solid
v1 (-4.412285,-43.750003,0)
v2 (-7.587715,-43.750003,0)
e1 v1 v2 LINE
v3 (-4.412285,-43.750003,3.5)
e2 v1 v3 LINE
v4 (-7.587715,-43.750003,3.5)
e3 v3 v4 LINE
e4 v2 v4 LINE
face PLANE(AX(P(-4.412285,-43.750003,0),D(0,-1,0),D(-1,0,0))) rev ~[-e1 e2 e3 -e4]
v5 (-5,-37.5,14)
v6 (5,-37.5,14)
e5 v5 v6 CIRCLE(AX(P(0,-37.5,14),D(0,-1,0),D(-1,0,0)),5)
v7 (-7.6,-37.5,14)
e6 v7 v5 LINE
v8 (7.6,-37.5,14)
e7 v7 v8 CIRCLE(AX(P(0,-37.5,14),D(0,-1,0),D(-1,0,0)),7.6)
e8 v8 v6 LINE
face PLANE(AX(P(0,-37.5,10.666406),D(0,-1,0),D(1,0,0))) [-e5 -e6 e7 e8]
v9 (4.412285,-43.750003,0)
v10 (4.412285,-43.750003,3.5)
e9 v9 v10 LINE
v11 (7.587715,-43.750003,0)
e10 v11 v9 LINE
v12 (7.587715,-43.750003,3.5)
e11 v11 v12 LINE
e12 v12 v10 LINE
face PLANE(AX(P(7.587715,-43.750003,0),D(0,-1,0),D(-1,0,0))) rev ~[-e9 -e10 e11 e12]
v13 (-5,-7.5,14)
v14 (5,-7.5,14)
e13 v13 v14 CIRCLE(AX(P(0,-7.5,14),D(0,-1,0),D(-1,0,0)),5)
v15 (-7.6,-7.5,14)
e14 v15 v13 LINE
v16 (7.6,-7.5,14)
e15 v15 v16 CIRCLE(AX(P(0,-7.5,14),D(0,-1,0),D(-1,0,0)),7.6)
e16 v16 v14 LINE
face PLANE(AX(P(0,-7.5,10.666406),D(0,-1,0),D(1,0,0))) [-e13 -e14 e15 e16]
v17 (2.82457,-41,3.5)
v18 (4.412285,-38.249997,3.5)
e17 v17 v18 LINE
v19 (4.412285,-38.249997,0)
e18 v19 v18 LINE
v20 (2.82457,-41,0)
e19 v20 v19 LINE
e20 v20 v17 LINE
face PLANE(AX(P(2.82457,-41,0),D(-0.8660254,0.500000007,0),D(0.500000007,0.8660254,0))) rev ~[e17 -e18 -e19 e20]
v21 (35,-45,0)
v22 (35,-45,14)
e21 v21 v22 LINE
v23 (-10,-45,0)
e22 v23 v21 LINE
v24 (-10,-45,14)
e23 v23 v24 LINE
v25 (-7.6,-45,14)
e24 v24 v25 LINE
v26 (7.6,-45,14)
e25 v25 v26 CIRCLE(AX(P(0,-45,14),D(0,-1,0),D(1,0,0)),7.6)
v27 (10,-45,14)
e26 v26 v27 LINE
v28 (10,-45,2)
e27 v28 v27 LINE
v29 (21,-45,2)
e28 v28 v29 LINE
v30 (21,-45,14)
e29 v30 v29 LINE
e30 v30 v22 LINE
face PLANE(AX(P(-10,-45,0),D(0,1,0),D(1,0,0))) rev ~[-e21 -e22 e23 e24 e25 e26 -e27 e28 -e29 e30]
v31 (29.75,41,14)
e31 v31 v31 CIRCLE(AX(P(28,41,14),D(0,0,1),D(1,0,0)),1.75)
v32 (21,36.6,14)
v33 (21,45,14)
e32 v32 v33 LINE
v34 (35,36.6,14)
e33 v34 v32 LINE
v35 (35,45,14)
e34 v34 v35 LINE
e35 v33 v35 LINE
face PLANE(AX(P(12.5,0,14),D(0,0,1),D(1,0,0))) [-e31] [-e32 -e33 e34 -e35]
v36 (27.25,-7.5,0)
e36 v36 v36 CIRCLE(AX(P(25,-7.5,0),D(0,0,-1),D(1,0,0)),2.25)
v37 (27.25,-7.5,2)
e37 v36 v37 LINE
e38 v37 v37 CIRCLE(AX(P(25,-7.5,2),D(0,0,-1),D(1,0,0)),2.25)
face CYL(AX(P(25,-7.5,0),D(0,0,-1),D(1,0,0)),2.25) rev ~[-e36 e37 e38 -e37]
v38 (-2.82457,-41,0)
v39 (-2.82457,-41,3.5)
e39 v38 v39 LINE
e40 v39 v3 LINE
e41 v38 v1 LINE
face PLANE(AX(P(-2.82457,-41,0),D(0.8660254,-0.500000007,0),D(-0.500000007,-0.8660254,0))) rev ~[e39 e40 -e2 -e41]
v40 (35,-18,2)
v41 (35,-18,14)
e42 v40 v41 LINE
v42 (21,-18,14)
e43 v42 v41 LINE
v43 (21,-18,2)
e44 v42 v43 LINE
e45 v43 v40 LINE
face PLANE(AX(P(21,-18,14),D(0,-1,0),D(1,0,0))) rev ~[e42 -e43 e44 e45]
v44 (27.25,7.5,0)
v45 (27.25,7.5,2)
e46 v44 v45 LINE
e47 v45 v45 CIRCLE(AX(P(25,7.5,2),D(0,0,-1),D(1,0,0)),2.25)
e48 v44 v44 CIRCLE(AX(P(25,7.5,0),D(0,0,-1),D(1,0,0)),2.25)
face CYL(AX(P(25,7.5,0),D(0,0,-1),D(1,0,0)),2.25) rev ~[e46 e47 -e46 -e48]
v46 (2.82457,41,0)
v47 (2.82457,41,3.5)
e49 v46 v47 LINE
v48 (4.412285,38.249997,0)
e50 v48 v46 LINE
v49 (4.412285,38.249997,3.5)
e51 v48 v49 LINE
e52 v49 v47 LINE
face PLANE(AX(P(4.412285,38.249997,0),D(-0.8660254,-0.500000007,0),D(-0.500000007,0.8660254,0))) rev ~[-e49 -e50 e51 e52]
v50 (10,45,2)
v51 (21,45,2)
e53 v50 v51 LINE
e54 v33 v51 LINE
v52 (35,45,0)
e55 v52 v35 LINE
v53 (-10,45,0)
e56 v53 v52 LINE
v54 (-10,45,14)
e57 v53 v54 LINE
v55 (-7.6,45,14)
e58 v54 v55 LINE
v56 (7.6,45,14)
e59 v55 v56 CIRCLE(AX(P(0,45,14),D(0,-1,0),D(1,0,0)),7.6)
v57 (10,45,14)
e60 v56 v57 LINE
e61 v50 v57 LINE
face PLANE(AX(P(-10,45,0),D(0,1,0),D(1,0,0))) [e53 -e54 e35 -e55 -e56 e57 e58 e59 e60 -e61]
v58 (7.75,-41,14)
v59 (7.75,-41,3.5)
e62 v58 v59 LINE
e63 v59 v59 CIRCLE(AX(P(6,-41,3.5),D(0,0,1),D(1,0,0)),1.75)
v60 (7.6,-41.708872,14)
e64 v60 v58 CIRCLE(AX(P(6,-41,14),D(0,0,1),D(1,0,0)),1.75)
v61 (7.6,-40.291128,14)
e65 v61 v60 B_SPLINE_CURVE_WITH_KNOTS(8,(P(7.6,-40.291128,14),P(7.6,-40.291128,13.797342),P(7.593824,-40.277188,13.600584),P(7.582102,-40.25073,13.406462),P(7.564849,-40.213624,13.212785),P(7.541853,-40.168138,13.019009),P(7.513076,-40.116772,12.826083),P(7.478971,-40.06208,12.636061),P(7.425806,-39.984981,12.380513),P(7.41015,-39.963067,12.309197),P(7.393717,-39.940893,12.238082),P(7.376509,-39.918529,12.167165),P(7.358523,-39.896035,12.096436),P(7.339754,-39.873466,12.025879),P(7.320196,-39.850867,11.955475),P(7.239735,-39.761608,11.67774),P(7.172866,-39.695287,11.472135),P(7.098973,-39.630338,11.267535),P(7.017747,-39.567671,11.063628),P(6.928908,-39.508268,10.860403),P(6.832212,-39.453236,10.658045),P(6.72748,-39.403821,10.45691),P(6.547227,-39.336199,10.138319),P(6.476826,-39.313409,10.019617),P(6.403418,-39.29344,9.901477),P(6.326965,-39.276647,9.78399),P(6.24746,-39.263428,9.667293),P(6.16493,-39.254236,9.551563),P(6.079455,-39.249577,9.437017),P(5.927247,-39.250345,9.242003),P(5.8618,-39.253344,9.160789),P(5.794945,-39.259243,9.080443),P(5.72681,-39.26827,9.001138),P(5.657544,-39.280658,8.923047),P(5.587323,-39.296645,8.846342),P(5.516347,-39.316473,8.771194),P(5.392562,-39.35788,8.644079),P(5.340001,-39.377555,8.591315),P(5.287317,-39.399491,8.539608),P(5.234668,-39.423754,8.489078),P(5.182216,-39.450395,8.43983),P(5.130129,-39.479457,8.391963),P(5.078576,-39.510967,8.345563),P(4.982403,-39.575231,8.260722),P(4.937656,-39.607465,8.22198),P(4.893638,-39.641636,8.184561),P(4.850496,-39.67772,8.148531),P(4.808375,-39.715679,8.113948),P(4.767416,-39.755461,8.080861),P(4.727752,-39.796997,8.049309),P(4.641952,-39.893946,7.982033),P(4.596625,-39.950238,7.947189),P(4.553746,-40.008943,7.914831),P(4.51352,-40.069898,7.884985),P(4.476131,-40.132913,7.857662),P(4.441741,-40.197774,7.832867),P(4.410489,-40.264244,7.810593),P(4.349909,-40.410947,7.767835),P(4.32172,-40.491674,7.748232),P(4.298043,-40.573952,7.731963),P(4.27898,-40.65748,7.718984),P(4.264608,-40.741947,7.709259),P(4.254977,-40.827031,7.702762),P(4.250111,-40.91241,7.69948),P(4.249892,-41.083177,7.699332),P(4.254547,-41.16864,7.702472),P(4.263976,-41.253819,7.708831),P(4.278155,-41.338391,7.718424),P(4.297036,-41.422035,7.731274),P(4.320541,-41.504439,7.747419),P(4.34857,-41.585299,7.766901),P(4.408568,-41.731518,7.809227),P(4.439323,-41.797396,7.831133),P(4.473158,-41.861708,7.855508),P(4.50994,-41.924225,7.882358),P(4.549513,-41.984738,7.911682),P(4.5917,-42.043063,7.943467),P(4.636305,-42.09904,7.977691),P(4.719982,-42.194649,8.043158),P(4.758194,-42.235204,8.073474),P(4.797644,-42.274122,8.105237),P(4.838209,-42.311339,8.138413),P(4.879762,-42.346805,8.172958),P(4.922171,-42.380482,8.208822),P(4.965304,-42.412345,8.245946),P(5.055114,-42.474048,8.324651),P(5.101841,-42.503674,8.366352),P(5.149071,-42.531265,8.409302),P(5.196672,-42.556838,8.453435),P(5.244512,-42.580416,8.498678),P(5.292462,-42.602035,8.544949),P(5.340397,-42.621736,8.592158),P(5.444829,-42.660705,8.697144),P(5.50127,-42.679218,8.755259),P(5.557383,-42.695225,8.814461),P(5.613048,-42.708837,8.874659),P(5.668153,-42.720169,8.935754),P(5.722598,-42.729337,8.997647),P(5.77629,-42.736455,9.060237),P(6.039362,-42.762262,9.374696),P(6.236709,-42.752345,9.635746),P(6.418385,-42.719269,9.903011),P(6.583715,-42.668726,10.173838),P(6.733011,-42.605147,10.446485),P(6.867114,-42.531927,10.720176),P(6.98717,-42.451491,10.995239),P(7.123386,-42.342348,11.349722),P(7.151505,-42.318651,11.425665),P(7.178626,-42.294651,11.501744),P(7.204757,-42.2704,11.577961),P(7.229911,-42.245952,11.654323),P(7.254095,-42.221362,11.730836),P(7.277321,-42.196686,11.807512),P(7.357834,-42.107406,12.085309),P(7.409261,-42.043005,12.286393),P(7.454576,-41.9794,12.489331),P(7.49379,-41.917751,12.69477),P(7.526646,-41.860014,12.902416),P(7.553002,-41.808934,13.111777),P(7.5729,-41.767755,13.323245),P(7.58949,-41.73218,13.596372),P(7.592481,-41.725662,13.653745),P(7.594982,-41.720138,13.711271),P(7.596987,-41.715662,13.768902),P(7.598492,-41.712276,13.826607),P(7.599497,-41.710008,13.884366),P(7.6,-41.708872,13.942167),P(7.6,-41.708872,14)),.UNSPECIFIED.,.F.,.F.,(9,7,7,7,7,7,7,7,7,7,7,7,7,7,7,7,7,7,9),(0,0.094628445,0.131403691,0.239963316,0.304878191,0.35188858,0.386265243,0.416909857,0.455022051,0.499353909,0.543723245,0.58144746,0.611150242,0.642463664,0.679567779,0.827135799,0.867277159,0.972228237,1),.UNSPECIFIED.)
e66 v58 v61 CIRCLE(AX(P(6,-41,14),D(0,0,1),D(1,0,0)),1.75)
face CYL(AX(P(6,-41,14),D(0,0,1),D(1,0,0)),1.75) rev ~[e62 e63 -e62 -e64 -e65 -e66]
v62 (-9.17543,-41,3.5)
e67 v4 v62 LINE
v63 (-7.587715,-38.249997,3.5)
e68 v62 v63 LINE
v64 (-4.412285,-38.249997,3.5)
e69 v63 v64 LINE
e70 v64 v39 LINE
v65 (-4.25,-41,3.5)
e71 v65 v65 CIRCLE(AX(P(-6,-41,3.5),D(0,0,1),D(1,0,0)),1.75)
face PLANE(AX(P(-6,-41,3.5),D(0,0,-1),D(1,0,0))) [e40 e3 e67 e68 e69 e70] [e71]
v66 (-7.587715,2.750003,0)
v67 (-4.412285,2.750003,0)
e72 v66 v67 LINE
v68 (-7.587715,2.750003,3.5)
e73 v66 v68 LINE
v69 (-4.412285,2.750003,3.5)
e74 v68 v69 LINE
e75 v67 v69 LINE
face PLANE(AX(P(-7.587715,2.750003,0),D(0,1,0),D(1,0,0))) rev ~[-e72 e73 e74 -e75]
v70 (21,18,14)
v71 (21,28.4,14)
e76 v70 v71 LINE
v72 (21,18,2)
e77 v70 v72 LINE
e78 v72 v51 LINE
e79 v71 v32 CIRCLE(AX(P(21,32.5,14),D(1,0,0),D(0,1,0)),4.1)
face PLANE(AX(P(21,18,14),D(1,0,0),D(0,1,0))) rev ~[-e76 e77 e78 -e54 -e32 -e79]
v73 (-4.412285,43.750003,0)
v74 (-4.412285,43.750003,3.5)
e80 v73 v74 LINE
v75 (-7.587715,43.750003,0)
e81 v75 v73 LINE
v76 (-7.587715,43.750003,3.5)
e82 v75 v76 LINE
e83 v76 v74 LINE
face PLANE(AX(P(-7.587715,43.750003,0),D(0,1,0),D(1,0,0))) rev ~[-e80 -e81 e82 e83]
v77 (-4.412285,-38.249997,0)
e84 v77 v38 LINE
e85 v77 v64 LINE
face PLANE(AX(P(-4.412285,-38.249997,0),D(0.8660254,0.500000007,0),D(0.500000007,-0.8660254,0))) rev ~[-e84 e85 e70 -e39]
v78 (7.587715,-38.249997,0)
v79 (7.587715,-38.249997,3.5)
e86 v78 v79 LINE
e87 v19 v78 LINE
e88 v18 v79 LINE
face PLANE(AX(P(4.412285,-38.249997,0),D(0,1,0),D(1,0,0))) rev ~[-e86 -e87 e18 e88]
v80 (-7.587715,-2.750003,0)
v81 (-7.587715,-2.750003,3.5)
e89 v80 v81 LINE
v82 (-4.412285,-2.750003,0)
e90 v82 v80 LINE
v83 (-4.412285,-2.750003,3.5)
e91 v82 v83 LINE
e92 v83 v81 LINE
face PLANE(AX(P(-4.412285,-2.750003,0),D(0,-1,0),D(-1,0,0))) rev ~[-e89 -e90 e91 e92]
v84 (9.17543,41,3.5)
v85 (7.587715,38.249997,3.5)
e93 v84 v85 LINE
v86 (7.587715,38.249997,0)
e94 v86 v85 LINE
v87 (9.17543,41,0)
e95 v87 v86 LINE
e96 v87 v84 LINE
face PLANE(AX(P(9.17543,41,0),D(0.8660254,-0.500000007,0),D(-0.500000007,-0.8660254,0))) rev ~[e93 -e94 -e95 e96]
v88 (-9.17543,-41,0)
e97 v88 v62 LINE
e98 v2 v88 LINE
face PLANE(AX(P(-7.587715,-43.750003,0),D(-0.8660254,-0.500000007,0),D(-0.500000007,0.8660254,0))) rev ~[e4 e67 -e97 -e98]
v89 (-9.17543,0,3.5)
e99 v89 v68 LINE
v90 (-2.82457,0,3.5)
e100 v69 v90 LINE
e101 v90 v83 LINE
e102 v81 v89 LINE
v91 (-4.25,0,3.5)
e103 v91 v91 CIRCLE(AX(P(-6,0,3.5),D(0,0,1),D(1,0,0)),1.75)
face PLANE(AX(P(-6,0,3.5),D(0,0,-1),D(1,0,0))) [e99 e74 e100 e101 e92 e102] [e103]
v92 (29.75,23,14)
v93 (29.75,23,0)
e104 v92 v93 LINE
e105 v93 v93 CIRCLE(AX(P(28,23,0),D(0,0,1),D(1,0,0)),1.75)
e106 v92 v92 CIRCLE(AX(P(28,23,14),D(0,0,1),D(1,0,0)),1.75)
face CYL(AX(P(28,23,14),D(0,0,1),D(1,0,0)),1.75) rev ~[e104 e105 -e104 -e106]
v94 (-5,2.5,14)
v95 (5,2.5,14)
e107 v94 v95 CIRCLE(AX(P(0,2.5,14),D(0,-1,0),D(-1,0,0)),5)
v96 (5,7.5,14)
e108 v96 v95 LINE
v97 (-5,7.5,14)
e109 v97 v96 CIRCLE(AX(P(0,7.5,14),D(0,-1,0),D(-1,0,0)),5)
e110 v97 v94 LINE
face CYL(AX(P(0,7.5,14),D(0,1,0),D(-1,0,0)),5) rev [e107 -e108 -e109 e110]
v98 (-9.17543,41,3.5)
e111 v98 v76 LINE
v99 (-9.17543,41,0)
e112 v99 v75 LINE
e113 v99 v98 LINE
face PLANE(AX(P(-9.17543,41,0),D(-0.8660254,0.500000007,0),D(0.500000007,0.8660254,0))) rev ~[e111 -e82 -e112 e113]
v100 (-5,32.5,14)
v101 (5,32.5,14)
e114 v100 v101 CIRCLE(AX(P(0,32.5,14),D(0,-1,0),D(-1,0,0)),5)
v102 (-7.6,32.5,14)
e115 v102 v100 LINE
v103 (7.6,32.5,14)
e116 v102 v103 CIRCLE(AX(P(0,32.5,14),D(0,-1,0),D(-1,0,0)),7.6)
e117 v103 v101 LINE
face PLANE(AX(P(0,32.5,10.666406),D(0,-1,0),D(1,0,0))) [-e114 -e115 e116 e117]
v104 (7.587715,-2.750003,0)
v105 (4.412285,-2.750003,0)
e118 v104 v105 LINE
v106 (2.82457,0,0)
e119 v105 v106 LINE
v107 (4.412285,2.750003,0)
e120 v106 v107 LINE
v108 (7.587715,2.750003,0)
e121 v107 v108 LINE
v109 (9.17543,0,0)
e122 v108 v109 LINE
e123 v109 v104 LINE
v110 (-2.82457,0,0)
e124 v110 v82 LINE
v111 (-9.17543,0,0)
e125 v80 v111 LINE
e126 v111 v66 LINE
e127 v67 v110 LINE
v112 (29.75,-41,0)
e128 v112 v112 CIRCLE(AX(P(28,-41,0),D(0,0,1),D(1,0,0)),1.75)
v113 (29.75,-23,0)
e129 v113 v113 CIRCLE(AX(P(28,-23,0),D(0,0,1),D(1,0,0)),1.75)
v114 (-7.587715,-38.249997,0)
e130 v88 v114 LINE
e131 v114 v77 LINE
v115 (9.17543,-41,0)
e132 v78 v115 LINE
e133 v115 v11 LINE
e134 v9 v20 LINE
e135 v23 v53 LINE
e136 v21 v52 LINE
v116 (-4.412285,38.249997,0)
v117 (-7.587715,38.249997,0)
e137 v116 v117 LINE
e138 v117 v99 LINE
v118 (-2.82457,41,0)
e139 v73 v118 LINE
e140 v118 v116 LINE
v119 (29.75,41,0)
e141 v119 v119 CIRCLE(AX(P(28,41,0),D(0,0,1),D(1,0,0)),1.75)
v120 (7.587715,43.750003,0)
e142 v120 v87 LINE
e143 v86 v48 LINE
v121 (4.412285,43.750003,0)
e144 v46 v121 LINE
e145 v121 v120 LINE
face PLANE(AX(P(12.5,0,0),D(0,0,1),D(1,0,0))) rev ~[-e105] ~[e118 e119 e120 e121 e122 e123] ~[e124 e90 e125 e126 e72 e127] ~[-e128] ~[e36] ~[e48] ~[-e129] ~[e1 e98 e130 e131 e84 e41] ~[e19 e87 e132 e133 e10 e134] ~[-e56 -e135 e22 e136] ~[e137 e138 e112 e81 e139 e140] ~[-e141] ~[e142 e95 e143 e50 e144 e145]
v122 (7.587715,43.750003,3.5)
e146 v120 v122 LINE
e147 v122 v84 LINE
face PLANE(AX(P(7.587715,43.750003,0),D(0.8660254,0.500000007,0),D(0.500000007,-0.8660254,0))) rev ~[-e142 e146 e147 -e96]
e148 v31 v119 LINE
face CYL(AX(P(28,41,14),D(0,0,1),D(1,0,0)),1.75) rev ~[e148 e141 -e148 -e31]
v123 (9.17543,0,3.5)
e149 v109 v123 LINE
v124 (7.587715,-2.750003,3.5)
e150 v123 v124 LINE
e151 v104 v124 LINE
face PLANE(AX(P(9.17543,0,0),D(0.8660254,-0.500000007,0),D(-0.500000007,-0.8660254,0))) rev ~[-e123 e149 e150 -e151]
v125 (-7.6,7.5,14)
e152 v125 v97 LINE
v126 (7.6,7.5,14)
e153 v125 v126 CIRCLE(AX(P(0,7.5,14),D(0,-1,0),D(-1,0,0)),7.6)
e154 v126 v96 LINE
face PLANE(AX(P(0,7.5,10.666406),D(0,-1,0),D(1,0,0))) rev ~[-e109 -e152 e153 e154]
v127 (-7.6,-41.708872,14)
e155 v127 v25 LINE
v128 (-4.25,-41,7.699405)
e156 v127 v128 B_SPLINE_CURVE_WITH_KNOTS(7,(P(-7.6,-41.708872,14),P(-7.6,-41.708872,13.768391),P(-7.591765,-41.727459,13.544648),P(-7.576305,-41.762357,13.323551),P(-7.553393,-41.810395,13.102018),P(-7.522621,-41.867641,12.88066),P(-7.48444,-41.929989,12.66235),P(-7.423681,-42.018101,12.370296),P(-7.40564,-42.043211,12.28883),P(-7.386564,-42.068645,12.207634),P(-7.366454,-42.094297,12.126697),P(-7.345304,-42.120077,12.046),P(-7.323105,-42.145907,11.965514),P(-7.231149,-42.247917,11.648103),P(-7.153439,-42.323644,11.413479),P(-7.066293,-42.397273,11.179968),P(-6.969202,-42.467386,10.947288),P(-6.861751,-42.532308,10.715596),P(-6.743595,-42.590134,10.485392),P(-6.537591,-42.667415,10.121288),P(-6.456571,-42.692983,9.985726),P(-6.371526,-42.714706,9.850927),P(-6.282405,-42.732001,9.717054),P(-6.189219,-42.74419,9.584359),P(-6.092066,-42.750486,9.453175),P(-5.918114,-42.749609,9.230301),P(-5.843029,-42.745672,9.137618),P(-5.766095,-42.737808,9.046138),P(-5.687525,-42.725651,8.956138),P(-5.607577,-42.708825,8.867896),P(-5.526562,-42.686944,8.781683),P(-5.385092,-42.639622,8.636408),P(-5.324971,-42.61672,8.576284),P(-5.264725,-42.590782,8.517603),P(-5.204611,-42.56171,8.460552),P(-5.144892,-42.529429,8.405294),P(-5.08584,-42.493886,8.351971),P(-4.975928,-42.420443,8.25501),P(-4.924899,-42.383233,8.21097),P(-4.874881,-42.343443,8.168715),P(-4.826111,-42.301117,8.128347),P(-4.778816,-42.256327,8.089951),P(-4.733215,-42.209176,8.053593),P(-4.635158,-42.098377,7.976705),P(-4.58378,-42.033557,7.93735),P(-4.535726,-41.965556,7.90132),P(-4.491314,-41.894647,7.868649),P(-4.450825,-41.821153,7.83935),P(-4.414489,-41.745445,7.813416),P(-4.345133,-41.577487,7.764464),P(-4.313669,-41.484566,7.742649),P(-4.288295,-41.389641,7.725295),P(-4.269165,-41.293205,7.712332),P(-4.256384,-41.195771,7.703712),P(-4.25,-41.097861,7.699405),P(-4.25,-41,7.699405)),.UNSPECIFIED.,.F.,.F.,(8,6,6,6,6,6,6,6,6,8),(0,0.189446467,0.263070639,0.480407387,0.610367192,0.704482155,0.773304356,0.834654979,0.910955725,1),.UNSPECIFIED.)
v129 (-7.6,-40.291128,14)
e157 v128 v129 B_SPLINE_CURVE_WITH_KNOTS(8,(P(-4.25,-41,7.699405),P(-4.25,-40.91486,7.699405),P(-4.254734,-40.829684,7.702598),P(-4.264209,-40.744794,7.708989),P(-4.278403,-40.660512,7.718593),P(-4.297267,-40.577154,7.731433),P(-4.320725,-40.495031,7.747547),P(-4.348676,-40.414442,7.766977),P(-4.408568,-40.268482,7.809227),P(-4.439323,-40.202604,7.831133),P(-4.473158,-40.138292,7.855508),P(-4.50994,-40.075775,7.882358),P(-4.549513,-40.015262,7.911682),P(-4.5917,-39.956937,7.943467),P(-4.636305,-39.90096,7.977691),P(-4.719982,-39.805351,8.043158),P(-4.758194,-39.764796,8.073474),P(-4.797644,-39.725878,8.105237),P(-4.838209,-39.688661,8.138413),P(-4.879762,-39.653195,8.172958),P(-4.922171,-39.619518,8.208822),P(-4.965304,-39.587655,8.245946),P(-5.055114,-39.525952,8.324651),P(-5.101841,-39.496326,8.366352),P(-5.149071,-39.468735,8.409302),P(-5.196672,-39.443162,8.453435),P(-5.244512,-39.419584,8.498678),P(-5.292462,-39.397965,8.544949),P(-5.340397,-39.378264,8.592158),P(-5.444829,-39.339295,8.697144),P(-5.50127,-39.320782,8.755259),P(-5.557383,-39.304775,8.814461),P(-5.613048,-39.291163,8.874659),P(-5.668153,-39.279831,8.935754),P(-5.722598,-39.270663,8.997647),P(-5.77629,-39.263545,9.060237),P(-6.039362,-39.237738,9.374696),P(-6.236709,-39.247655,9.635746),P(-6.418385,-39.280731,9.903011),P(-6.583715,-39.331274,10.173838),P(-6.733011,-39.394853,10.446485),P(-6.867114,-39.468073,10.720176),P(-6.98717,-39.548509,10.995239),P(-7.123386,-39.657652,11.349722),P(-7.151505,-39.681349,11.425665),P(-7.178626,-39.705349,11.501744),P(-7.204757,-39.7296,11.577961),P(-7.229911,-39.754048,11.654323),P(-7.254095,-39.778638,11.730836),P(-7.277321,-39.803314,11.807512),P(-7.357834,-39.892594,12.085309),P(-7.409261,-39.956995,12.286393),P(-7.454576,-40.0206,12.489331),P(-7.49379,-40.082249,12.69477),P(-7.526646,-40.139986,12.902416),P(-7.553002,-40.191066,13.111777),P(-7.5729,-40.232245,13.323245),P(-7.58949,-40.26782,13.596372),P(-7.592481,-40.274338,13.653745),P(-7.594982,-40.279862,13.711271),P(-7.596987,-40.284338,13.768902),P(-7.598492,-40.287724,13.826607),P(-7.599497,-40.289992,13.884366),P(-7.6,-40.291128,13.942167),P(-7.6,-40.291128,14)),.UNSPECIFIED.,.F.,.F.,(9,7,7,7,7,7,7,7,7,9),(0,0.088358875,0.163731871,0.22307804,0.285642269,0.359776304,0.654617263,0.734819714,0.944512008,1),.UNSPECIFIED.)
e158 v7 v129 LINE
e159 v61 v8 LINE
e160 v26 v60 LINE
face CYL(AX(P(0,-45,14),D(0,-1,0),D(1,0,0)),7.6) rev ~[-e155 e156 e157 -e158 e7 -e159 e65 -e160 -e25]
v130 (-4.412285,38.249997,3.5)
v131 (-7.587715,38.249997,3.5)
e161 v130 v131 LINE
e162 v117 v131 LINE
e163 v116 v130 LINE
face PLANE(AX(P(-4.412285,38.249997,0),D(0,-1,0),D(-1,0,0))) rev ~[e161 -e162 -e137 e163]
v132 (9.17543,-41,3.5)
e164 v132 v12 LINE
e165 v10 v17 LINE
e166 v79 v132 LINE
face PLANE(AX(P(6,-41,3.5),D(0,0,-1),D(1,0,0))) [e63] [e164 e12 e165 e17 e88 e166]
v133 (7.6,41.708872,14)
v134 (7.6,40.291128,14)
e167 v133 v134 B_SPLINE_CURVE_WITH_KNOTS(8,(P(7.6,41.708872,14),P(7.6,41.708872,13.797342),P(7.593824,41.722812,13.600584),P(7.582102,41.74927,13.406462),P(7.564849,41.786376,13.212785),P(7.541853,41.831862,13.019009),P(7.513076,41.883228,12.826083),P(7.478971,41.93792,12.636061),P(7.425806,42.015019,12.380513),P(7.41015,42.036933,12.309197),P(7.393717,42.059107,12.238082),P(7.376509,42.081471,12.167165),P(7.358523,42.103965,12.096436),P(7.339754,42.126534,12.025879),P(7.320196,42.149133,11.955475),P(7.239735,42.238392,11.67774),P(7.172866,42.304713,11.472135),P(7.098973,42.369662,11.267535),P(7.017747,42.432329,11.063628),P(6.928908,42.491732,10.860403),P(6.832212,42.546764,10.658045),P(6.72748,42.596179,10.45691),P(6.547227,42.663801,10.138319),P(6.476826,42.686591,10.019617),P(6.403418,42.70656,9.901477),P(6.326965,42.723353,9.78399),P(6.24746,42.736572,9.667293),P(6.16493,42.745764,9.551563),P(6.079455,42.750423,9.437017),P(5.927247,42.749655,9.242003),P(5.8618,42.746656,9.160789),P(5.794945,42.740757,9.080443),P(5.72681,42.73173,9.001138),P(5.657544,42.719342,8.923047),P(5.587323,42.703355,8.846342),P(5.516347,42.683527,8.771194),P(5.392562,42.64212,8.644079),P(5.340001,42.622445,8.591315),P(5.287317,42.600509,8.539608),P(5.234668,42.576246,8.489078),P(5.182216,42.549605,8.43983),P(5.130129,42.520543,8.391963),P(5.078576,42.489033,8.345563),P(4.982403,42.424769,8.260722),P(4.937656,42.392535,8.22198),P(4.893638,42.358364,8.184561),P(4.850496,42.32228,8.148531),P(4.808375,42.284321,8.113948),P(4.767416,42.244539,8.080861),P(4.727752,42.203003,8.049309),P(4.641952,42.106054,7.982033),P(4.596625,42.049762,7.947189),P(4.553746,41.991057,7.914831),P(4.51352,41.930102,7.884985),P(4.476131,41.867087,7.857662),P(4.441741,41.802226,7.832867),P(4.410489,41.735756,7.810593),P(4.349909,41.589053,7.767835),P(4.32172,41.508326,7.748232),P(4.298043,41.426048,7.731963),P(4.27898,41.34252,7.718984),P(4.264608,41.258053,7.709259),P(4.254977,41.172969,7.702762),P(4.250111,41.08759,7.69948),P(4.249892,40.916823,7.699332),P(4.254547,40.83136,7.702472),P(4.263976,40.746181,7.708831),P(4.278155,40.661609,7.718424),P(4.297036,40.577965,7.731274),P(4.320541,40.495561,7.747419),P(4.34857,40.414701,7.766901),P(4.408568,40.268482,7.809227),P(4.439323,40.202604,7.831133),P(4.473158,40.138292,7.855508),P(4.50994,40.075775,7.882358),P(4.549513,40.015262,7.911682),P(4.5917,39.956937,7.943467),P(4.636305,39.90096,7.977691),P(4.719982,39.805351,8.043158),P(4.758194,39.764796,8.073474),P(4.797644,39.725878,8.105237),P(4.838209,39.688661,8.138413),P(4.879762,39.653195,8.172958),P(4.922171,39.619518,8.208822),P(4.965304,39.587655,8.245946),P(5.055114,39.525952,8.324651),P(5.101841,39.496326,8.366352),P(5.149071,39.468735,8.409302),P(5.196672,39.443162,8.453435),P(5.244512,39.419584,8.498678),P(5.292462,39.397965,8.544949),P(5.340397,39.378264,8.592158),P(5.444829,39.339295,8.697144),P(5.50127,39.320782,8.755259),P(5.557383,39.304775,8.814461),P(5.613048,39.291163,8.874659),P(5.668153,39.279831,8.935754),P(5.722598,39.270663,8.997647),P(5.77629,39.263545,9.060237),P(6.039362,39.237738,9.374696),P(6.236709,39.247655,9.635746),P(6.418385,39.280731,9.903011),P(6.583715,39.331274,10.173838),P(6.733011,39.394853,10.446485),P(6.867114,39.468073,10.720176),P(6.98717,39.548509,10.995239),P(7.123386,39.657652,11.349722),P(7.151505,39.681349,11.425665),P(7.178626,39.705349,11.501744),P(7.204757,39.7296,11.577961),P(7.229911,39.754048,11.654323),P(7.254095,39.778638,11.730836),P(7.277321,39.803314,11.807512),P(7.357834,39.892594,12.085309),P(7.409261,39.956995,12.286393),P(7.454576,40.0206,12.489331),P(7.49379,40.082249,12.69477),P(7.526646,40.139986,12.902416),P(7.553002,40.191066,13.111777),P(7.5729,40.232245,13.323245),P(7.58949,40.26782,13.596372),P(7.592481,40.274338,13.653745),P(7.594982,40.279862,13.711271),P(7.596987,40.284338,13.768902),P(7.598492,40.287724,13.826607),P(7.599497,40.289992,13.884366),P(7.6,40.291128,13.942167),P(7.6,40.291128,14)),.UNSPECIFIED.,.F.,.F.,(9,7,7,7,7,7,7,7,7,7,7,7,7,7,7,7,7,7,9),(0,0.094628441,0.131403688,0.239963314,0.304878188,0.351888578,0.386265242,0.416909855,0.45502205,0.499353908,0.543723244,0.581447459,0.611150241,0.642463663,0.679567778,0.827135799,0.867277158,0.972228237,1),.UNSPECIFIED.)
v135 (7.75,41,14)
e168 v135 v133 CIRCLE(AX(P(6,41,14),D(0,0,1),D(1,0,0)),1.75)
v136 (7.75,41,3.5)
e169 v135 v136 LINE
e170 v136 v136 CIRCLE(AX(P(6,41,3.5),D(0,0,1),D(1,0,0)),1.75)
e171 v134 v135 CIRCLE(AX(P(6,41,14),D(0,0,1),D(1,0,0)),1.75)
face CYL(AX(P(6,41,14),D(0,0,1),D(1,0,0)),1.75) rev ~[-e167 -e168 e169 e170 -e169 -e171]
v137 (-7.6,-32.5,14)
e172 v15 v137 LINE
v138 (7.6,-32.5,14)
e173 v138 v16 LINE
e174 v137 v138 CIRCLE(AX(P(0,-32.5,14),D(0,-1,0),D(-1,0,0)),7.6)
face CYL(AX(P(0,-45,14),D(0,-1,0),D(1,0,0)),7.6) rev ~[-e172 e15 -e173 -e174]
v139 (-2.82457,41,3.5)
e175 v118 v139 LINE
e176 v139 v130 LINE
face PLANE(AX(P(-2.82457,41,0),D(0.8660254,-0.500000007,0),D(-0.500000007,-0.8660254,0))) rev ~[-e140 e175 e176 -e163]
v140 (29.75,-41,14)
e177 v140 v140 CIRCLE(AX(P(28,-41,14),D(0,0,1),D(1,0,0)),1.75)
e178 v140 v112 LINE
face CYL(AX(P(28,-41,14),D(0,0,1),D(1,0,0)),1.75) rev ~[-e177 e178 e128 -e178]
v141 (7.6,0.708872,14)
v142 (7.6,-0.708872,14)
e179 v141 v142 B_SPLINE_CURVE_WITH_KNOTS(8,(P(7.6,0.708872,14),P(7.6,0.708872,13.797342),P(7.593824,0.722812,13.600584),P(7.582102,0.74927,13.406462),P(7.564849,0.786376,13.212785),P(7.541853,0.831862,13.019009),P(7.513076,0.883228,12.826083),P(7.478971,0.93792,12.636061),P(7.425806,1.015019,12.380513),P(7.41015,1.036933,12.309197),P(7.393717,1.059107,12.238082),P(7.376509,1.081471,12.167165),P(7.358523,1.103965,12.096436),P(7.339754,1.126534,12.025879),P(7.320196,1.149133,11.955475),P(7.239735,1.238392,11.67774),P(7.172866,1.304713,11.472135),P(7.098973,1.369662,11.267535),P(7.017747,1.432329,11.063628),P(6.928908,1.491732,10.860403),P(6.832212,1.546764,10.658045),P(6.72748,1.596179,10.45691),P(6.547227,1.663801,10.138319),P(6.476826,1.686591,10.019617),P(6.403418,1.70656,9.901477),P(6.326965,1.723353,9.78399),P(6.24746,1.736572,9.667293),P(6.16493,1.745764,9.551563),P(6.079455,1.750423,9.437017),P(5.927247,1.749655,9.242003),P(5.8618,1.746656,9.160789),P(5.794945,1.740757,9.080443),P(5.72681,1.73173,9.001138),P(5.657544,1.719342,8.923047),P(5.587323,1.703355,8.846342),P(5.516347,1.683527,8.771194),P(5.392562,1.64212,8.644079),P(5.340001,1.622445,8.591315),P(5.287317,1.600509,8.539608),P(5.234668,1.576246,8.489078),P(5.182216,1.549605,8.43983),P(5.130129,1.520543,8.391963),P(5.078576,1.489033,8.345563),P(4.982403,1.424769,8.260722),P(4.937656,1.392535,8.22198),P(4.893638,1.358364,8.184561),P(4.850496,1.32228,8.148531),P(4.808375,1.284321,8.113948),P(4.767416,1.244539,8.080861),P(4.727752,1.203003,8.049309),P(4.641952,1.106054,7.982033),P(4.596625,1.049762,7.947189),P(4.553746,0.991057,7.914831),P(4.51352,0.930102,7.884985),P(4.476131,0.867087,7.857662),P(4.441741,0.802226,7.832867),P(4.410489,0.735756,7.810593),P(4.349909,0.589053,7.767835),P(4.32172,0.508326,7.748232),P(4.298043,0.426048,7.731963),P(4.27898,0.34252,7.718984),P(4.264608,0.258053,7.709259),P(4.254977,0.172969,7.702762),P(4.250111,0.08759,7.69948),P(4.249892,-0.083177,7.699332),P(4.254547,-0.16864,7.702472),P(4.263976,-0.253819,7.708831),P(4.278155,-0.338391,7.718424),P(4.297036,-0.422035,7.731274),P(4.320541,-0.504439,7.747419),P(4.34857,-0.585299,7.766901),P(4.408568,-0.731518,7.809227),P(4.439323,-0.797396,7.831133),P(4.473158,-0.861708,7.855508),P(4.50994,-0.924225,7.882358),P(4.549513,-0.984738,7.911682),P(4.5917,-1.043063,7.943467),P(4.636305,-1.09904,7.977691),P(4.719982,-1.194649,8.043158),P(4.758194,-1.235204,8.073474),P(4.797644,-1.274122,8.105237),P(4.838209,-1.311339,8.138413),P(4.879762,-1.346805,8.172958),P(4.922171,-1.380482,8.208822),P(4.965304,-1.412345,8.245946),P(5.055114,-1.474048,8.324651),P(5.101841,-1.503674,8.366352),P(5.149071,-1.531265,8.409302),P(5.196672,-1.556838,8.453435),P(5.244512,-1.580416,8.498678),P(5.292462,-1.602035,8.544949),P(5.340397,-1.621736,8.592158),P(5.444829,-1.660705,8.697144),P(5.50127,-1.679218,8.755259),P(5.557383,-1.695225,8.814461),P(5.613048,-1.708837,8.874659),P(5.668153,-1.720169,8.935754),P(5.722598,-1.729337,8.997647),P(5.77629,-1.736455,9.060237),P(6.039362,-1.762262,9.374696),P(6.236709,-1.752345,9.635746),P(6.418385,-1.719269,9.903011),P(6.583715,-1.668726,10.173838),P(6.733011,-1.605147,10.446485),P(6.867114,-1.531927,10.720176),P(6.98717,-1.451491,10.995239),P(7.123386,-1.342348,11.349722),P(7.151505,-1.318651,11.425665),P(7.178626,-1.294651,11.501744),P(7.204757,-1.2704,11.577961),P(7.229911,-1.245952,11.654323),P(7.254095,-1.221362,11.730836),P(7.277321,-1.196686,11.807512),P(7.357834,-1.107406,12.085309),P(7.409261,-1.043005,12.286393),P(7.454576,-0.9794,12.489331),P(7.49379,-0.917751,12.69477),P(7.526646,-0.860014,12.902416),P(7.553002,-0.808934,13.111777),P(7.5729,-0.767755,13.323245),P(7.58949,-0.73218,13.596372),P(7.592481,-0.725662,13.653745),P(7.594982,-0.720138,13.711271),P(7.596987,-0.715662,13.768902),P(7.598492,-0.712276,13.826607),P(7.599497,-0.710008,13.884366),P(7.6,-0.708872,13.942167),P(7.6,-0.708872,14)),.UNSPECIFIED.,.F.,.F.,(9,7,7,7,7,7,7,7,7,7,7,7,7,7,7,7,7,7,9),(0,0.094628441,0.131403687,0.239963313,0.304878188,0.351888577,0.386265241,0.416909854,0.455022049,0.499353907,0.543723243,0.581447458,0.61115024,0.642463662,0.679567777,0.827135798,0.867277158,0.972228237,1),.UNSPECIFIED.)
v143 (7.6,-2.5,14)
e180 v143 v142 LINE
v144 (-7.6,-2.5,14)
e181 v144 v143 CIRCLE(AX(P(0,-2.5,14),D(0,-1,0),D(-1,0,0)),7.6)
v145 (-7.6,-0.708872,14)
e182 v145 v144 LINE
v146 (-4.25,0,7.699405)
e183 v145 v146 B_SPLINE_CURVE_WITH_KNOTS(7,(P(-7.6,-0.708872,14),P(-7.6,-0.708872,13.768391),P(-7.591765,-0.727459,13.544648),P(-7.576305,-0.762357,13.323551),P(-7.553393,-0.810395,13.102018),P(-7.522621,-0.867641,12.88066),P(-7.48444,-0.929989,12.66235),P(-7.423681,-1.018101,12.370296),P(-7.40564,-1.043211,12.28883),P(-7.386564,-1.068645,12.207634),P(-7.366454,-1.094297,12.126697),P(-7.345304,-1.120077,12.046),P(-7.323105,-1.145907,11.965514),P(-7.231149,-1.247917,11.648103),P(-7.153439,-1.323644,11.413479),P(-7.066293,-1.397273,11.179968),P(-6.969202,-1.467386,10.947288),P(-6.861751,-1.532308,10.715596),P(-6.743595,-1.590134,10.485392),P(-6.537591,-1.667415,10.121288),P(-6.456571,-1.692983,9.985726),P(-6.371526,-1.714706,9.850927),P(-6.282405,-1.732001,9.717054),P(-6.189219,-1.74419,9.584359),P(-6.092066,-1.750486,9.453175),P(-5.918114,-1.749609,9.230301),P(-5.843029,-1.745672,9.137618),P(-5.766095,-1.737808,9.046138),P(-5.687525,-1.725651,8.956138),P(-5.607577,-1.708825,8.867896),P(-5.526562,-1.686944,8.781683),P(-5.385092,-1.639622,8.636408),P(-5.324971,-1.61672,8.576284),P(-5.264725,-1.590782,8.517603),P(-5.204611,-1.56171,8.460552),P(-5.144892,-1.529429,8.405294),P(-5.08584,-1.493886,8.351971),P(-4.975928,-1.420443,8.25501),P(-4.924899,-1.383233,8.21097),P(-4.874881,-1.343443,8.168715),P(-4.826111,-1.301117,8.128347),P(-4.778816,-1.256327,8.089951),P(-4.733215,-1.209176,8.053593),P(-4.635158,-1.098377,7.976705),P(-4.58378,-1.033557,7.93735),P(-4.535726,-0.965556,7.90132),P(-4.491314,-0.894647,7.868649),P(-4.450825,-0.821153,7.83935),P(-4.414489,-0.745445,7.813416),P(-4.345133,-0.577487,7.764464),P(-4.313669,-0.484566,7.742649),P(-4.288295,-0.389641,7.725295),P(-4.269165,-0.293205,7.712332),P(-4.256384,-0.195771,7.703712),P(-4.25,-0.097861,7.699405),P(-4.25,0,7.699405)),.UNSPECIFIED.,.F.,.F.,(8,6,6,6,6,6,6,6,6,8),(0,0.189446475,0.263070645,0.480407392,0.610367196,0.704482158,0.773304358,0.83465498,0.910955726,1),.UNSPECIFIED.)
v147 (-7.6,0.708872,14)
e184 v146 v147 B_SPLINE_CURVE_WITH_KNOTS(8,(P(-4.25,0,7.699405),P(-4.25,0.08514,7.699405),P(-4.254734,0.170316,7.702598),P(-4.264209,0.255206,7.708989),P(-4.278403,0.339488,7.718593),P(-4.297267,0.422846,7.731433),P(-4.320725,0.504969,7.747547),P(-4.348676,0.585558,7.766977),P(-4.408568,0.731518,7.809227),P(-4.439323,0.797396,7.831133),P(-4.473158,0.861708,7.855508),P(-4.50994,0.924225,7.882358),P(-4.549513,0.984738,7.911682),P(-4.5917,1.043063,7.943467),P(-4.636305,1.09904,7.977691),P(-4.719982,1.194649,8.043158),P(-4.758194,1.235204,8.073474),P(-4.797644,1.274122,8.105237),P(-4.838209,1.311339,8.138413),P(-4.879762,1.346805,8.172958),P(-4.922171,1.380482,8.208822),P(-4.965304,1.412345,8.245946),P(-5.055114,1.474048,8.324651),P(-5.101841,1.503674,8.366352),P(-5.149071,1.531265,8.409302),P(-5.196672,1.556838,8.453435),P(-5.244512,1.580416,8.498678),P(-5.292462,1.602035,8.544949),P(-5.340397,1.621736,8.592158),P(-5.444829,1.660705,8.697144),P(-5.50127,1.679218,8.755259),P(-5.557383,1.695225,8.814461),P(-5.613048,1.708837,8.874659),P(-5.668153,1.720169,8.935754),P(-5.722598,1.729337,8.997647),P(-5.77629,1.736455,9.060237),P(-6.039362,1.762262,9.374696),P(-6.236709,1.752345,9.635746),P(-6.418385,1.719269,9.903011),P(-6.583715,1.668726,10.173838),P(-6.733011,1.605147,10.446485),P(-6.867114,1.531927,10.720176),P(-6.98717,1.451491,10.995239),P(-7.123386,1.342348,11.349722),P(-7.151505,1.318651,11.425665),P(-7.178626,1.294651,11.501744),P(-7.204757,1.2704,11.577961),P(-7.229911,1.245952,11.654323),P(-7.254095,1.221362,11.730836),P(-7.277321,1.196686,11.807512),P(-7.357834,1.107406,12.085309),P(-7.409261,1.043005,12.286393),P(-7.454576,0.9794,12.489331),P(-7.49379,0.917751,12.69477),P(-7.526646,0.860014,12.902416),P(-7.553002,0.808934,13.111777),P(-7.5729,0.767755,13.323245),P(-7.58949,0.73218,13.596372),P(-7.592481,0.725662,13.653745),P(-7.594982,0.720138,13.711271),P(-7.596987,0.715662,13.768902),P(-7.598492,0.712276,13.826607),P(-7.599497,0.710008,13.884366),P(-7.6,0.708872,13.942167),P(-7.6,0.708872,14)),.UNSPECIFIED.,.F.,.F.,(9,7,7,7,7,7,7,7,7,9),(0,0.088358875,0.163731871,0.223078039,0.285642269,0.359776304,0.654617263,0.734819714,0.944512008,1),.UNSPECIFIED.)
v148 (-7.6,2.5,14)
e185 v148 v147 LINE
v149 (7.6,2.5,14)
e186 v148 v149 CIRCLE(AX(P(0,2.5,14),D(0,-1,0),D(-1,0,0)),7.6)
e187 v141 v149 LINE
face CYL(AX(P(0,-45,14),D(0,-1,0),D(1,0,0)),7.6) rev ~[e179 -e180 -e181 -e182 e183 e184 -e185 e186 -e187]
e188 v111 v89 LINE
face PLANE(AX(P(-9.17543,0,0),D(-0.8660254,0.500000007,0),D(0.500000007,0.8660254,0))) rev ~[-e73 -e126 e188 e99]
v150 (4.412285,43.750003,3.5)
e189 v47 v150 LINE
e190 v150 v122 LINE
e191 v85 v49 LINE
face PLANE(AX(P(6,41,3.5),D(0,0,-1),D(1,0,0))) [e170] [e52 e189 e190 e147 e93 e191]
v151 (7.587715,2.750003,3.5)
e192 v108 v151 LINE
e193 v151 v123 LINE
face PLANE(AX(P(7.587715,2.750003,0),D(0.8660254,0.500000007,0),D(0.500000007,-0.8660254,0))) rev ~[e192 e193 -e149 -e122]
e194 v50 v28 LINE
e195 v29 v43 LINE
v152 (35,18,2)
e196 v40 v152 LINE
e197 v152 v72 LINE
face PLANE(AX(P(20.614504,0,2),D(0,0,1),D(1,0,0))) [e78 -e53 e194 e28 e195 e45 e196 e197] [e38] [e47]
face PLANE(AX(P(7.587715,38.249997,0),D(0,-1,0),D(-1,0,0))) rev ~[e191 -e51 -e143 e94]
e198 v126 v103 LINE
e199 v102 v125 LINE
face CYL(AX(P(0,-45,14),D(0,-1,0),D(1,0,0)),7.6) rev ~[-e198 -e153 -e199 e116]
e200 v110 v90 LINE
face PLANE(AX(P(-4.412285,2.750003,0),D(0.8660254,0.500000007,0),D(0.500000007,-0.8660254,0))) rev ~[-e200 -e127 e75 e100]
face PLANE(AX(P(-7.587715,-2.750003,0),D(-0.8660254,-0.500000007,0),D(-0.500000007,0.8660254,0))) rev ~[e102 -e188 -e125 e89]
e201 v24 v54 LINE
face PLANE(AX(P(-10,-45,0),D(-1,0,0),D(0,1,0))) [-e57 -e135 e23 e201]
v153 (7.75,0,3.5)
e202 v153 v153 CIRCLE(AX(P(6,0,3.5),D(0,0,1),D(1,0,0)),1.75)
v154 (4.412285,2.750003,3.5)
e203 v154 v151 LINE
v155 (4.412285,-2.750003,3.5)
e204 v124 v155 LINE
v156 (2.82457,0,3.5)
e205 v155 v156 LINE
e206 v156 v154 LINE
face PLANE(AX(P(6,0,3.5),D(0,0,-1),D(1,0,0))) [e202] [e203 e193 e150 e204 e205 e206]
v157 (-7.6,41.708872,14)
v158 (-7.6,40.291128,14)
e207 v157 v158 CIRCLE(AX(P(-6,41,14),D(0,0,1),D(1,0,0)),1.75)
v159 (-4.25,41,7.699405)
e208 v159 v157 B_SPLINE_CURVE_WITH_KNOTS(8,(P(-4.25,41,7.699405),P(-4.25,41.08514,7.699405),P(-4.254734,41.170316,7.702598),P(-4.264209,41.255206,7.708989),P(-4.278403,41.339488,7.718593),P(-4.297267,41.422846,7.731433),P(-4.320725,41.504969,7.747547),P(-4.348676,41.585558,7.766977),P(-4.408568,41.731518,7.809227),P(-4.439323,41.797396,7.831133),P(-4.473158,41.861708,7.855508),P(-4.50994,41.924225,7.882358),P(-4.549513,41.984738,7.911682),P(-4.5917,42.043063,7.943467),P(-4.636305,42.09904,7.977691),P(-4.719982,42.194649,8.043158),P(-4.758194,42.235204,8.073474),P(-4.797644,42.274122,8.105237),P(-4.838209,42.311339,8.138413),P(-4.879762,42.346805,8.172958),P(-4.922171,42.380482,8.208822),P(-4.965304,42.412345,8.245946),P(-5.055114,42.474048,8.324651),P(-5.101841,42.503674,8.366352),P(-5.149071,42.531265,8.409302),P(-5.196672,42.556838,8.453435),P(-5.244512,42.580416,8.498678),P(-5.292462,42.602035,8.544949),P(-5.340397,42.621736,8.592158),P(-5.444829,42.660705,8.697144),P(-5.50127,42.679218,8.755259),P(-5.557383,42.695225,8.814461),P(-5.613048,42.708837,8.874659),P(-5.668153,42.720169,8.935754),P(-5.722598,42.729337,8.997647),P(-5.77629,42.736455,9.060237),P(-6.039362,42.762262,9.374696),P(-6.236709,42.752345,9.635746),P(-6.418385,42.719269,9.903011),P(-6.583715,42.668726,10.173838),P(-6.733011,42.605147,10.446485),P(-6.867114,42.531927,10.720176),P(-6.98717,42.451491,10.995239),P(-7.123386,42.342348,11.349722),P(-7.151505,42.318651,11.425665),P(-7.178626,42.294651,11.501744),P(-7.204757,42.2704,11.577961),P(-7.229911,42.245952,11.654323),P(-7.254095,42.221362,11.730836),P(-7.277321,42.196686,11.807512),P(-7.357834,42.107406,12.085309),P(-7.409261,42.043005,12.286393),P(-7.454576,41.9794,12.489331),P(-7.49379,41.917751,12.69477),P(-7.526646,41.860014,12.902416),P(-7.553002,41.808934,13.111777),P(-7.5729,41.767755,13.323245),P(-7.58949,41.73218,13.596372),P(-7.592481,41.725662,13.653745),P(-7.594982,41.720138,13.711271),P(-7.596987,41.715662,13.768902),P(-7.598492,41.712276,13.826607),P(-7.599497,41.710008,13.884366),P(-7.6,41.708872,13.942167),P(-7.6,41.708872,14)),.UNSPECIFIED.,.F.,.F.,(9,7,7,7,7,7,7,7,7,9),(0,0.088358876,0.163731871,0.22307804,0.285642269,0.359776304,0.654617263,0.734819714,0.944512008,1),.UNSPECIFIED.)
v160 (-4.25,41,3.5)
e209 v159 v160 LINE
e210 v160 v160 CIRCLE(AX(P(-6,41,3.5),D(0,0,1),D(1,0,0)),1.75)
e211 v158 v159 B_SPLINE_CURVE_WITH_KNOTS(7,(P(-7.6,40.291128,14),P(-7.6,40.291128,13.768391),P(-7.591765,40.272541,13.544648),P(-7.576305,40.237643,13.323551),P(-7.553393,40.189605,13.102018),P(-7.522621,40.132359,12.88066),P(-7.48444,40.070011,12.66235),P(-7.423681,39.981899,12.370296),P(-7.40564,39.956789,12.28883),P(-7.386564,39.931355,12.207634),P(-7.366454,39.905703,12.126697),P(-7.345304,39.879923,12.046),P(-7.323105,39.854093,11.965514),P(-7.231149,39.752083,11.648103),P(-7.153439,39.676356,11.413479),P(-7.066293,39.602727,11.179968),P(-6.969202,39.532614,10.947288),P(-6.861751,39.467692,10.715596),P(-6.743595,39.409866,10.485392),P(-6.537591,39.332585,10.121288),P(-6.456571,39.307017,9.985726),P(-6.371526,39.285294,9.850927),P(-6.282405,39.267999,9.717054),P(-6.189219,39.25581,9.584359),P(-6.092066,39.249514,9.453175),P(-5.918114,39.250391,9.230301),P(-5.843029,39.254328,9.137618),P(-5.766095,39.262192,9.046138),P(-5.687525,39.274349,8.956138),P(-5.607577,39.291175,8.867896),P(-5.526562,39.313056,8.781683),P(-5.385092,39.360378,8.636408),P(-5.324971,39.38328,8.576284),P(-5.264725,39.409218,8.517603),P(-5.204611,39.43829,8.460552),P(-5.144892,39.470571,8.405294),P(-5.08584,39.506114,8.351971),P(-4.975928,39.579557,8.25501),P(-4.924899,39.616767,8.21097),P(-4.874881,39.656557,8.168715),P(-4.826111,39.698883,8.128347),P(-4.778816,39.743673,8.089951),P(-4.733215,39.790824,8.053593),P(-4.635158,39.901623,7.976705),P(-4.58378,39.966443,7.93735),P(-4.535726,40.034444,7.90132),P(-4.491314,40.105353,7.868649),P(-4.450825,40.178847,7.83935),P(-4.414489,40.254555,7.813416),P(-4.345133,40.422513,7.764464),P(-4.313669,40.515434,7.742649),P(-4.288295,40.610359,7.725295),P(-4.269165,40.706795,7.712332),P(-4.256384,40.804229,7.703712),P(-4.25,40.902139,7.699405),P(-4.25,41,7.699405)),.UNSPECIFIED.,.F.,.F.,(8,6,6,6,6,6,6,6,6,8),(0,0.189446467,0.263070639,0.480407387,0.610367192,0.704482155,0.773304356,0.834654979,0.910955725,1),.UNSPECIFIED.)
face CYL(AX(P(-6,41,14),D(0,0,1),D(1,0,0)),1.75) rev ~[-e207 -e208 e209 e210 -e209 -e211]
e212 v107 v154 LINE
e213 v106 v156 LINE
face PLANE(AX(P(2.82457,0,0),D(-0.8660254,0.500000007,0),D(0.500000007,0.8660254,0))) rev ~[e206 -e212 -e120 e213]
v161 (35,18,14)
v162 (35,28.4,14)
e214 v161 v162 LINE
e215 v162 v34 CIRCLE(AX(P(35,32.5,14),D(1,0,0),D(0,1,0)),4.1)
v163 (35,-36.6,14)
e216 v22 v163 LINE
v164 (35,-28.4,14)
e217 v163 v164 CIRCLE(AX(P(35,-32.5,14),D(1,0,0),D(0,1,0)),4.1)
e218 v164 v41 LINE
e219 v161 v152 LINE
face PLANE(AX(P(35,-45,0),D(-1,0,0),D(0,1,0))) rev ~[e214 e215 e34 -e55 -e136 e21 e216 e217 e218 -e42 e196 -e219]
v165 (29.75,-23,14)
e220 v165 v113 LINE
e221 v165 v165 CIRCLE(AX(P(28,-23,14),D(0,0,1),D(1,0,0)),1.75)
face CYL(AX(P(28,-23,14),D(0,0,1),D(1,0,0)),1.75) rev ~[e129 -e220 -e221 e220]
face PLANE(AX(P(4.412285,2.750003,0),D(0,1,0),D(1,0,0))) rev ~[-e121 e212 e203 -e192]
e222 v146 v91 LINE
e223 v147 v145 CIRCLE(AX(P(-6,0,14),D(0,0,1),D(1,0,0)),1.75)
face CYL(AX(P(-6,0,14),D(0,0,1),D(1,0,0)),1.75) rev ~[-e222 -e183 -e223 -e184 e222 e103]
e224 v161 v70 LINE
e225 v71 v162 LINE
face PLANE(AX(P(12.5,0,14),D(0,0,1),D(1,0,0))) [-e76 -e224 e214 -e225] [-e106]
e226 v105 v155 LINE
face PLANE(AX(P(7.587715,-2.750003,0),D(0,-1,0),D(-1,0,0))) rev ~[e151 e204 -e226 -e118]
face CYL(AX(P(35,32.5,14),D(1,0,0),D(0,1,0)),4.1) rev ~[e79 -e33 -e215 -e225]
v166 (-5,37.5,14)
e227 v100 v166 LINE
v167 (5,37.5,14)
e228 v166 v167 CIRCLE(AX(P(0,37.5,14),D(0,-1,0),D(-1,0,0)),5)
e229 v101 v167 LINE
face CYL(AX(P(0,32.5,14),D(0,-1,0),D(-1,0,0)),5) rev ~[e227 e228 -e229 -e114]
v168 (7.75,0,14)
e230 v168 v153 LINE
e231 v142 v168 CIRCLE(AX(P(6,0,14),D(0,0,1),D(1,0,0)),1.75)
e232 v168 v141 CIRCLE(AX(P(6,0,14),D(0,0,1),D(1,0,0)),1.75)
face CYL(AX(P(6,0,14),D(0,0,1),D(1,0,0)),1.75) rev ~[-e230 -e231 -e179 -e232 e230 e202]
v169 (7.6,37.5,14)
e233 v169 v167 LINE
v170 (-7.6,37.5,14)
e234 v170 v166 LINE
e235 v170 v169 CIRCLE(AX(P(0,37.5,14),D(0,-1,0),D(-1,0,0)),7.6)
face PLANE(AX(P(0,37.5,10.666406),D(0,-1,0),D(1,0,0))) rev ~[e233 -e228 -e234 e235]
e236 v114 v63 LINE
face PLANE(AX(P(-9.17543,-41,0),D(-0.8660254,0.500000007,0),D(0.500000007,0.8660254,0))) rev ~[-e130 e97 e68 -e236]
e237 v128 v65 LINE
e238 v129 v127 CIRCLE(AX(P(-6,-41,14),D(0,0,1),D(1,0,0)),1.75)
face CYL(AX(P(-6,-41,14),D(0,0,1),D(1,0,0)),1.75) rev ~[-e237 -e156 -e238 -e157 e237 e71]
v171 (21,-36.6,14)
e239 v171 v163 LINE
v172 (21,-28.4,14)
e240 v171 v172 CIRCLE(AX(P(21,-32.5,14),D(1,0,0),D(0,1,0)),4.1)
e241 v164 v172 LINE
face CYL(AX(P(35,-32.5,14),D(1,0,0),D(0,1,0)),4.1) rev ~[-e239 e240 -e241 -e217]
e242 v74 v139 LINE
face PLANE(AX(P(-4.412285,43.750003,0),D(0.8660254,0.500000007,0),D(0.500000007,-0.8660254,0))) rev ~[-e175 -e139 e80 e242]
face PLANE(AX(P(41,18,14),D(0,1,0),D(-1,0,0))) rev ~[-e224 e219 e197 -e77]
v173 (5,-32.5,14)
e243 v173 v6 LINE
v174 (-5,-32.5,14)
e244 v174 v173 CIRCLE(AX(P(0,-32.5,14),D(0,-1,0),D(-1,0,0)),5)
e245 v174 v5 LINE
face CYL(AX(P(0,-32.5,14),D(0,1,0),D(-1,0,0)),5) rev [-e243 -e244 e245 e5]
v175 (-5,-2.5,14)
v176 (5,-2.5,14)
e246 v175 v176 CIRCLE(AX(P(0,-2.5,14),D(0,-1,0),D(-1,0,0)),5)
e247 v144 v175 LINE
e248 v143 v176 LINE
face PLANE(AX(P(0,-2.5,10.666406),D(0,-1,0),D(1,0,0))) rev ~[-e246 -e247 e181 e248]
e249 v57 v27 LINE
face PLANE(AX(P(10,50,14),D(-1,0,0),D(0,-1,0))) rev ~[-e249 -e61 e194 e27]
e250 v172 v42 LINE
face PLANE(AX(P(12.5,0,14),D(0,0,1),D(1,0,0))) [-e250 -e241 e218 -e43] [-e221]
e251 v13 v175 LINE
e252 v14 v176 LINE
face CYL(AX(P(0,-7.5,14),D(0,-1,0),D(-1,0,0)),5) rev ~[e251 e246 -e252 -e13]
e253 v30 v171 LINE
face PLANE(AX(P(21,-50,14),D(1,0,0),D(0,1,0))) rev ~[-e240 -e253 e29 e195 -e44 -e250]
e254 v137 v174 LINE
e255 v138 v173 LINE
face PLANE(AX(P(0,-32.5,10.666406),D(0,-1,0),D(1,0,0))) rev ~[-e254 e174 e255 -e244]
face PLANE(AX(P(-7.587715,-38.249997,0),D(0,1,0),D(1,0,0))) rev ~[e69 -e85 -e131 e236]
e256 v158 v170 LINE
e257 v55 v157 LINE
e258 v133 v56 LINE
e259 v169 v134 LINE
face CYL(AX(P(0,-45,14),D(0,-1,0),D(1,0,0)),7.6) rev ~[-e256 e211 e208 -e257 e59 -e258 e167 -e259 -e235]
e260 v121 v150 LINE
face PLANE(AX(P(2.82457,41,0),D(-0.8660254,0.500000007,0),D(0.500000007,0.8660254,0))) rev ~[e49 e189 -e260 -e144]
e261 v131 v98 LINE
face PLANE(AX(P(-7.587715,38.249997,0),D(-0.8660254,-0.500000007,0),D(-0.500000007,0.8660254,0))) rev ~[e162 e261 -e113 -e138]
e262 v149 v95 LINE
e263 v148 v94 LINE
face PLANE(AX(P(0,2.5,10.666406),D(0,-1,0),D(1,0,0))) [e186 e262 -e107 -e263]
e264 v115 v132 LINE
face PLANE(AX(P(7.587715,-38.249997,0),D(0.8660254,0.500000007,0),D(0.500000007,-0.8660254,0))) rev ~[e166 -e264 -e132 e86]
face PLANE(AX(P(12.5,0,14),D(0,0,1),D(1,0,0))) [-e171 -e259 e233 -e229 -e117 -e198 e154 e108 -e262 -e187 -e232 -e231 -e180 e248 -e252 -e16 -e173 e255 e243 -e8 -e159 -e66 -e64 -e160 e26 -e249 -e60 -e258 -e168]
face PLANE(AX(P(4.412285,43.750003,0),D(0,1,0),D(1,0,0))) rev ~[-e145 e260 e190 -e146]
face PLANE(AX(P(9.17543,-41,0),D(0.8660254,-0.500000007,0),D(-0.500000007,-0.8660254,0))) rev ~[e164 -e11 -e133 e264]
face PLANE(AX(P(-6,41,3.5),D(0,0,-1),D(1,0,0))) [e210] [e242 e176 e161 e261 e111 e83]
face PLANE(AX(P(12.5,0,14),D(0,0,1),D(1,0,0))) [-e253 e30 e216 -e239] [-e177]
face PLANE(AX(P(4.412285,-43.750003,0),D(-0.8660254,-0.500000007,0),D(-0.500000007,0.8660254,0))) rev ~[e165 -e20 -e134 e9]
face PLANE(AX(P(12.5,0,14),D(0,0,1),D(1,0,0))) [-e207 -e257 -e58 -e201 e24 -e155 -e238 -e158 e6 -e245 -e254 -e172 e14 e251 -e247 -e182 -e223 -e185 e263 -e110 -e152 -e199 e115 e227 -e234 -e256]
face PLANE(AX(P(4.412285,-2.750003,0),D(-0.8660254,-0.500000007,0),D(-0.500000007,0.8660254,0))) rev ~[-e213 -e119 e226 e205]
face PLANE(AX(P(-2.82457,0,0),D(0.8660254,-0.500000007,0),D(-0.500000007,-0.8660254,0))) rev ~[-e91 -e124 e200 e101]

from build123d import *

# Parameters (mm, degrees)
PAD004_DEPTH    = 5
PAD003_DEPTH    = 5
PAD002_DEPTH    = 5
PAD001_DEPTH    = 5
SKETCH_W        = 45
SKETCH_H        = 90
PAD_DEPTH       = 14
SKETCH001_R     = 7.6
POCKET_DEPTH    = 90.001
SKETCH002_R     = 1.75
POCKET001_DEPTH = 14.001
POCKET002_DEPTH = 12
SKETCH004_R     = 2.25
POCKET003_DEPTH = 14.001
SKETCH008_R     = 4.1
POCKET005_DEPTH = 20
POCKET006_DEPTH = 3.5
POCKET007_DEPTH = 5


with BuildPart() as pad004:
    # Sketch021 → Pad004 (new body)
    with BuildSketch(Plane.XZ.offset(32.5)):
        with BuildLine():
            ThreePointArc((-7.6, 14), (0, 6.4), (7.6, 14))
            Line((7.6, 14), (5, 14))
            ThreePointArc((-5, 14), (0, 9), (5, 14))
            Line((-7.6, 14), (-5, 14))
        make_face()
    extrude(amount=PAD004_DEPTH)


with BuildPart() as pad003:
    # Sketch020 → Pad003 (new body)
    with BuildSketch(Plane.XZ.offset(-32.5)):
        with BuildLine():
            ThreePointArc((-7.6, 14), (0, 6.4), (7.6, 14))
            Line((7.6, 14), (5, 14))
            ThreePointArc((-5, 14), (0, 9), (5, 14))
            Line((-7.6, 14), (-5, 14))
        make_face()
    extrude(amount=-PAD003_DEPTH)


with BuildPart() as pad002:
    # Sketch019 → Pad002 (new body)
    with BuildSketch(Plane.XZ.offset(7.5)):
        with BuildLine():
            ThreePointArc((-7.6, 14), (0, 6.4), (7.6, 14))
            Line((7.6, 14), (5, 14))
            ThreePointArc((-5, 14), (0, 9), (5, 14))
            Line((-7.6, 14), (-5, 14))
        make_face()
    extrude(amount=-PAD002_DEPTH)


with BuildPart() as pad001:
    # Sketch018 → Pad001 (new body)
    with BuildSketch(Plane.XZ.offset(-7.5)):
        with BuildLine():
            ThreePointArc((-7.6, 14), (0, 6.4), (7.6, 14))
            Line((7.6, 14), (5, 14))
            ThreePointArc((-5, 14), (0, 9), (5, 14))
            Line((-7.6, 14), (-5, 14))
        make_face()
    extrude(amount=PAD001_DEPTH)


with BuildPart() as fusion:
    # Sketch → Pad (new body)
    with BuildSketch(Plane.XY):
        with Locations((12.5, 0)):
            Rectangle(SKETCH_W, SKETCH_H)
    extrude(amount=PAD_DEPTH)

    # Sketch001 → Pocket (cut, through all)
    with BuildSketch(Plane.XZ.offset(45)):
        with Locations((0, 14)):
            Circle(SKETCH001_R)
    extrude(amount=-POCKET_DEPTH, mode=Mode.SUBTRACT)

    # Sketch002 → Pocket001 (cut, through all)
    with BuildSketch(Plane.XY.offset(14)):
        with Locations((-6, 41)):
            Circle(SKETCH002_R)
        with Locations((-6, -41)):
            Circle(SKETCH002_R)
        with Locations((6, 41)):
            Circle(SKETCH002_R)
        with Locations((6, -41)):
            Circle(SKETCH002_R)
        with Locations((6, 0)):
            Circle(SKETCH002_R)
        with Locations((-6, 0)):
            Circle(SKETCH002_R)
        with Locations((28, 41)):
            Circle(SKETCH002_R)
        with Locations((28, 23)):
            Circle(SKETCH002_R)
        with Locations((28, -23)):
            Circle(SKETCH002_R)
        with Locations((28, -41)):
            Circle(SKETCH002_R)
    extrude(amount=-POCKET001_DEPTH, mode=Mode.SUBTRACT)

    # Sketch003 → Pocket002 (cut)
    with BuildSketch(Plane.XY.offset(14)):
        Polygon((10, 50), (10, -50), (21, -50), (21, -18), (41, -18), (41, 18), (21, 18), (21, 50), align=None)
    extrude(amount=-POCKET002_DEPTH, mode=Mode.SUBTRACT)

    # Sketch004 → Pocket003 (cut, through all)
    with BuildSketch(Plane(origin=(0, 0, 0), x_dir=(1, 0, 0), z_dir=(0, 0, -1))):
        with Locations((25, 7.5)):
            Circle(SKETCH004_R)
        with Locations((25, -7.5)):
            Circle(SKETCH004_R)
    extrude(amount=-POCKET003_DEPTH, mode=Mode.SUBTRACT)

    # Sketch008 → Pocket005 (cut)
    with BuildSketch(Plane.YZ.offset(35)):
        with Locations((-32.5, 14)):
            Circle(SKETCH008_R)
        with Locations((32.5, 14)):
            Circle(SKETCH008_R)
    extrude(amount=-POCKET005_DEPTH, mode=Mode.SUBTRACT)

    # Sketch012 → Pocket006 (cut)
    with BuildSketch(Plane(origin=(0, 0, 0), x_dir=(1, 0, 0), z_dir=(0, 0, -1))):
        Polygon((-4.412285, 2.750003), (-7.587715, 2.750003), (-9.17543, 0), (-7.587715, -2.750003), (-4.412285, -2.750003), (-2.82457, 0), align=None)
        Polygon((7.587715, 2.750003), (4.412285, 2.750003), (2.82457, 0), (4.412285, -2.750003), (7.587715, -2.750003), (9.17543, 0), align=None)
        Polygon((-4.412285, 43.750003), (-7.587715, 43.750003), (-9.17543, 41), (-7.587715, 38.249997), (-4.412285, 38.249997), (-2.82457, 41), align=None)
        Polygon((7.587715, -38.249997), (4.412285, -38.249997), (2.82457, -41), (4.412285, -43.750003), (7.587715, -43.750003), (9.17543, -41), align=None)
        Polygon((7.587715, 43.750003), (4.412285, 43.750003), (2.82457, 41), (4.412285, 38.249997), (7.587715, 38.249997), (9.17543, 41), align=None)
        Polygon((-4.412285, -38.249997), (-7.587715, -38.249997), (-9.17543, -41), (-7.587715, -43.750003), (-4.412285, -43.750003), (-2.82457, -41), align=None)
    extrude(amount=-POCKET006_DEPTH, mode=Mode.SUBTRACT)

    # Sketch022 → Pocket007 (cut)
    with BuildSketch(Plane.XY.offset(2)):
        Polygon((44.573685, 18), (36, 3.425), (36, -3.425), (44.573685, -18), (55.573685, -18), (55.573685, 18), align=None)
    extrude(amount=-POCKET007_DEPTH, mode=Mode.SUBTRACT)

    # Fusion: union Pad004, Pad003, Pad002, Pad001
    add(pad004.part)
    add(pad003.part)
    add(pad002.part)
    add(pad001.part)


solid = fusion.part
